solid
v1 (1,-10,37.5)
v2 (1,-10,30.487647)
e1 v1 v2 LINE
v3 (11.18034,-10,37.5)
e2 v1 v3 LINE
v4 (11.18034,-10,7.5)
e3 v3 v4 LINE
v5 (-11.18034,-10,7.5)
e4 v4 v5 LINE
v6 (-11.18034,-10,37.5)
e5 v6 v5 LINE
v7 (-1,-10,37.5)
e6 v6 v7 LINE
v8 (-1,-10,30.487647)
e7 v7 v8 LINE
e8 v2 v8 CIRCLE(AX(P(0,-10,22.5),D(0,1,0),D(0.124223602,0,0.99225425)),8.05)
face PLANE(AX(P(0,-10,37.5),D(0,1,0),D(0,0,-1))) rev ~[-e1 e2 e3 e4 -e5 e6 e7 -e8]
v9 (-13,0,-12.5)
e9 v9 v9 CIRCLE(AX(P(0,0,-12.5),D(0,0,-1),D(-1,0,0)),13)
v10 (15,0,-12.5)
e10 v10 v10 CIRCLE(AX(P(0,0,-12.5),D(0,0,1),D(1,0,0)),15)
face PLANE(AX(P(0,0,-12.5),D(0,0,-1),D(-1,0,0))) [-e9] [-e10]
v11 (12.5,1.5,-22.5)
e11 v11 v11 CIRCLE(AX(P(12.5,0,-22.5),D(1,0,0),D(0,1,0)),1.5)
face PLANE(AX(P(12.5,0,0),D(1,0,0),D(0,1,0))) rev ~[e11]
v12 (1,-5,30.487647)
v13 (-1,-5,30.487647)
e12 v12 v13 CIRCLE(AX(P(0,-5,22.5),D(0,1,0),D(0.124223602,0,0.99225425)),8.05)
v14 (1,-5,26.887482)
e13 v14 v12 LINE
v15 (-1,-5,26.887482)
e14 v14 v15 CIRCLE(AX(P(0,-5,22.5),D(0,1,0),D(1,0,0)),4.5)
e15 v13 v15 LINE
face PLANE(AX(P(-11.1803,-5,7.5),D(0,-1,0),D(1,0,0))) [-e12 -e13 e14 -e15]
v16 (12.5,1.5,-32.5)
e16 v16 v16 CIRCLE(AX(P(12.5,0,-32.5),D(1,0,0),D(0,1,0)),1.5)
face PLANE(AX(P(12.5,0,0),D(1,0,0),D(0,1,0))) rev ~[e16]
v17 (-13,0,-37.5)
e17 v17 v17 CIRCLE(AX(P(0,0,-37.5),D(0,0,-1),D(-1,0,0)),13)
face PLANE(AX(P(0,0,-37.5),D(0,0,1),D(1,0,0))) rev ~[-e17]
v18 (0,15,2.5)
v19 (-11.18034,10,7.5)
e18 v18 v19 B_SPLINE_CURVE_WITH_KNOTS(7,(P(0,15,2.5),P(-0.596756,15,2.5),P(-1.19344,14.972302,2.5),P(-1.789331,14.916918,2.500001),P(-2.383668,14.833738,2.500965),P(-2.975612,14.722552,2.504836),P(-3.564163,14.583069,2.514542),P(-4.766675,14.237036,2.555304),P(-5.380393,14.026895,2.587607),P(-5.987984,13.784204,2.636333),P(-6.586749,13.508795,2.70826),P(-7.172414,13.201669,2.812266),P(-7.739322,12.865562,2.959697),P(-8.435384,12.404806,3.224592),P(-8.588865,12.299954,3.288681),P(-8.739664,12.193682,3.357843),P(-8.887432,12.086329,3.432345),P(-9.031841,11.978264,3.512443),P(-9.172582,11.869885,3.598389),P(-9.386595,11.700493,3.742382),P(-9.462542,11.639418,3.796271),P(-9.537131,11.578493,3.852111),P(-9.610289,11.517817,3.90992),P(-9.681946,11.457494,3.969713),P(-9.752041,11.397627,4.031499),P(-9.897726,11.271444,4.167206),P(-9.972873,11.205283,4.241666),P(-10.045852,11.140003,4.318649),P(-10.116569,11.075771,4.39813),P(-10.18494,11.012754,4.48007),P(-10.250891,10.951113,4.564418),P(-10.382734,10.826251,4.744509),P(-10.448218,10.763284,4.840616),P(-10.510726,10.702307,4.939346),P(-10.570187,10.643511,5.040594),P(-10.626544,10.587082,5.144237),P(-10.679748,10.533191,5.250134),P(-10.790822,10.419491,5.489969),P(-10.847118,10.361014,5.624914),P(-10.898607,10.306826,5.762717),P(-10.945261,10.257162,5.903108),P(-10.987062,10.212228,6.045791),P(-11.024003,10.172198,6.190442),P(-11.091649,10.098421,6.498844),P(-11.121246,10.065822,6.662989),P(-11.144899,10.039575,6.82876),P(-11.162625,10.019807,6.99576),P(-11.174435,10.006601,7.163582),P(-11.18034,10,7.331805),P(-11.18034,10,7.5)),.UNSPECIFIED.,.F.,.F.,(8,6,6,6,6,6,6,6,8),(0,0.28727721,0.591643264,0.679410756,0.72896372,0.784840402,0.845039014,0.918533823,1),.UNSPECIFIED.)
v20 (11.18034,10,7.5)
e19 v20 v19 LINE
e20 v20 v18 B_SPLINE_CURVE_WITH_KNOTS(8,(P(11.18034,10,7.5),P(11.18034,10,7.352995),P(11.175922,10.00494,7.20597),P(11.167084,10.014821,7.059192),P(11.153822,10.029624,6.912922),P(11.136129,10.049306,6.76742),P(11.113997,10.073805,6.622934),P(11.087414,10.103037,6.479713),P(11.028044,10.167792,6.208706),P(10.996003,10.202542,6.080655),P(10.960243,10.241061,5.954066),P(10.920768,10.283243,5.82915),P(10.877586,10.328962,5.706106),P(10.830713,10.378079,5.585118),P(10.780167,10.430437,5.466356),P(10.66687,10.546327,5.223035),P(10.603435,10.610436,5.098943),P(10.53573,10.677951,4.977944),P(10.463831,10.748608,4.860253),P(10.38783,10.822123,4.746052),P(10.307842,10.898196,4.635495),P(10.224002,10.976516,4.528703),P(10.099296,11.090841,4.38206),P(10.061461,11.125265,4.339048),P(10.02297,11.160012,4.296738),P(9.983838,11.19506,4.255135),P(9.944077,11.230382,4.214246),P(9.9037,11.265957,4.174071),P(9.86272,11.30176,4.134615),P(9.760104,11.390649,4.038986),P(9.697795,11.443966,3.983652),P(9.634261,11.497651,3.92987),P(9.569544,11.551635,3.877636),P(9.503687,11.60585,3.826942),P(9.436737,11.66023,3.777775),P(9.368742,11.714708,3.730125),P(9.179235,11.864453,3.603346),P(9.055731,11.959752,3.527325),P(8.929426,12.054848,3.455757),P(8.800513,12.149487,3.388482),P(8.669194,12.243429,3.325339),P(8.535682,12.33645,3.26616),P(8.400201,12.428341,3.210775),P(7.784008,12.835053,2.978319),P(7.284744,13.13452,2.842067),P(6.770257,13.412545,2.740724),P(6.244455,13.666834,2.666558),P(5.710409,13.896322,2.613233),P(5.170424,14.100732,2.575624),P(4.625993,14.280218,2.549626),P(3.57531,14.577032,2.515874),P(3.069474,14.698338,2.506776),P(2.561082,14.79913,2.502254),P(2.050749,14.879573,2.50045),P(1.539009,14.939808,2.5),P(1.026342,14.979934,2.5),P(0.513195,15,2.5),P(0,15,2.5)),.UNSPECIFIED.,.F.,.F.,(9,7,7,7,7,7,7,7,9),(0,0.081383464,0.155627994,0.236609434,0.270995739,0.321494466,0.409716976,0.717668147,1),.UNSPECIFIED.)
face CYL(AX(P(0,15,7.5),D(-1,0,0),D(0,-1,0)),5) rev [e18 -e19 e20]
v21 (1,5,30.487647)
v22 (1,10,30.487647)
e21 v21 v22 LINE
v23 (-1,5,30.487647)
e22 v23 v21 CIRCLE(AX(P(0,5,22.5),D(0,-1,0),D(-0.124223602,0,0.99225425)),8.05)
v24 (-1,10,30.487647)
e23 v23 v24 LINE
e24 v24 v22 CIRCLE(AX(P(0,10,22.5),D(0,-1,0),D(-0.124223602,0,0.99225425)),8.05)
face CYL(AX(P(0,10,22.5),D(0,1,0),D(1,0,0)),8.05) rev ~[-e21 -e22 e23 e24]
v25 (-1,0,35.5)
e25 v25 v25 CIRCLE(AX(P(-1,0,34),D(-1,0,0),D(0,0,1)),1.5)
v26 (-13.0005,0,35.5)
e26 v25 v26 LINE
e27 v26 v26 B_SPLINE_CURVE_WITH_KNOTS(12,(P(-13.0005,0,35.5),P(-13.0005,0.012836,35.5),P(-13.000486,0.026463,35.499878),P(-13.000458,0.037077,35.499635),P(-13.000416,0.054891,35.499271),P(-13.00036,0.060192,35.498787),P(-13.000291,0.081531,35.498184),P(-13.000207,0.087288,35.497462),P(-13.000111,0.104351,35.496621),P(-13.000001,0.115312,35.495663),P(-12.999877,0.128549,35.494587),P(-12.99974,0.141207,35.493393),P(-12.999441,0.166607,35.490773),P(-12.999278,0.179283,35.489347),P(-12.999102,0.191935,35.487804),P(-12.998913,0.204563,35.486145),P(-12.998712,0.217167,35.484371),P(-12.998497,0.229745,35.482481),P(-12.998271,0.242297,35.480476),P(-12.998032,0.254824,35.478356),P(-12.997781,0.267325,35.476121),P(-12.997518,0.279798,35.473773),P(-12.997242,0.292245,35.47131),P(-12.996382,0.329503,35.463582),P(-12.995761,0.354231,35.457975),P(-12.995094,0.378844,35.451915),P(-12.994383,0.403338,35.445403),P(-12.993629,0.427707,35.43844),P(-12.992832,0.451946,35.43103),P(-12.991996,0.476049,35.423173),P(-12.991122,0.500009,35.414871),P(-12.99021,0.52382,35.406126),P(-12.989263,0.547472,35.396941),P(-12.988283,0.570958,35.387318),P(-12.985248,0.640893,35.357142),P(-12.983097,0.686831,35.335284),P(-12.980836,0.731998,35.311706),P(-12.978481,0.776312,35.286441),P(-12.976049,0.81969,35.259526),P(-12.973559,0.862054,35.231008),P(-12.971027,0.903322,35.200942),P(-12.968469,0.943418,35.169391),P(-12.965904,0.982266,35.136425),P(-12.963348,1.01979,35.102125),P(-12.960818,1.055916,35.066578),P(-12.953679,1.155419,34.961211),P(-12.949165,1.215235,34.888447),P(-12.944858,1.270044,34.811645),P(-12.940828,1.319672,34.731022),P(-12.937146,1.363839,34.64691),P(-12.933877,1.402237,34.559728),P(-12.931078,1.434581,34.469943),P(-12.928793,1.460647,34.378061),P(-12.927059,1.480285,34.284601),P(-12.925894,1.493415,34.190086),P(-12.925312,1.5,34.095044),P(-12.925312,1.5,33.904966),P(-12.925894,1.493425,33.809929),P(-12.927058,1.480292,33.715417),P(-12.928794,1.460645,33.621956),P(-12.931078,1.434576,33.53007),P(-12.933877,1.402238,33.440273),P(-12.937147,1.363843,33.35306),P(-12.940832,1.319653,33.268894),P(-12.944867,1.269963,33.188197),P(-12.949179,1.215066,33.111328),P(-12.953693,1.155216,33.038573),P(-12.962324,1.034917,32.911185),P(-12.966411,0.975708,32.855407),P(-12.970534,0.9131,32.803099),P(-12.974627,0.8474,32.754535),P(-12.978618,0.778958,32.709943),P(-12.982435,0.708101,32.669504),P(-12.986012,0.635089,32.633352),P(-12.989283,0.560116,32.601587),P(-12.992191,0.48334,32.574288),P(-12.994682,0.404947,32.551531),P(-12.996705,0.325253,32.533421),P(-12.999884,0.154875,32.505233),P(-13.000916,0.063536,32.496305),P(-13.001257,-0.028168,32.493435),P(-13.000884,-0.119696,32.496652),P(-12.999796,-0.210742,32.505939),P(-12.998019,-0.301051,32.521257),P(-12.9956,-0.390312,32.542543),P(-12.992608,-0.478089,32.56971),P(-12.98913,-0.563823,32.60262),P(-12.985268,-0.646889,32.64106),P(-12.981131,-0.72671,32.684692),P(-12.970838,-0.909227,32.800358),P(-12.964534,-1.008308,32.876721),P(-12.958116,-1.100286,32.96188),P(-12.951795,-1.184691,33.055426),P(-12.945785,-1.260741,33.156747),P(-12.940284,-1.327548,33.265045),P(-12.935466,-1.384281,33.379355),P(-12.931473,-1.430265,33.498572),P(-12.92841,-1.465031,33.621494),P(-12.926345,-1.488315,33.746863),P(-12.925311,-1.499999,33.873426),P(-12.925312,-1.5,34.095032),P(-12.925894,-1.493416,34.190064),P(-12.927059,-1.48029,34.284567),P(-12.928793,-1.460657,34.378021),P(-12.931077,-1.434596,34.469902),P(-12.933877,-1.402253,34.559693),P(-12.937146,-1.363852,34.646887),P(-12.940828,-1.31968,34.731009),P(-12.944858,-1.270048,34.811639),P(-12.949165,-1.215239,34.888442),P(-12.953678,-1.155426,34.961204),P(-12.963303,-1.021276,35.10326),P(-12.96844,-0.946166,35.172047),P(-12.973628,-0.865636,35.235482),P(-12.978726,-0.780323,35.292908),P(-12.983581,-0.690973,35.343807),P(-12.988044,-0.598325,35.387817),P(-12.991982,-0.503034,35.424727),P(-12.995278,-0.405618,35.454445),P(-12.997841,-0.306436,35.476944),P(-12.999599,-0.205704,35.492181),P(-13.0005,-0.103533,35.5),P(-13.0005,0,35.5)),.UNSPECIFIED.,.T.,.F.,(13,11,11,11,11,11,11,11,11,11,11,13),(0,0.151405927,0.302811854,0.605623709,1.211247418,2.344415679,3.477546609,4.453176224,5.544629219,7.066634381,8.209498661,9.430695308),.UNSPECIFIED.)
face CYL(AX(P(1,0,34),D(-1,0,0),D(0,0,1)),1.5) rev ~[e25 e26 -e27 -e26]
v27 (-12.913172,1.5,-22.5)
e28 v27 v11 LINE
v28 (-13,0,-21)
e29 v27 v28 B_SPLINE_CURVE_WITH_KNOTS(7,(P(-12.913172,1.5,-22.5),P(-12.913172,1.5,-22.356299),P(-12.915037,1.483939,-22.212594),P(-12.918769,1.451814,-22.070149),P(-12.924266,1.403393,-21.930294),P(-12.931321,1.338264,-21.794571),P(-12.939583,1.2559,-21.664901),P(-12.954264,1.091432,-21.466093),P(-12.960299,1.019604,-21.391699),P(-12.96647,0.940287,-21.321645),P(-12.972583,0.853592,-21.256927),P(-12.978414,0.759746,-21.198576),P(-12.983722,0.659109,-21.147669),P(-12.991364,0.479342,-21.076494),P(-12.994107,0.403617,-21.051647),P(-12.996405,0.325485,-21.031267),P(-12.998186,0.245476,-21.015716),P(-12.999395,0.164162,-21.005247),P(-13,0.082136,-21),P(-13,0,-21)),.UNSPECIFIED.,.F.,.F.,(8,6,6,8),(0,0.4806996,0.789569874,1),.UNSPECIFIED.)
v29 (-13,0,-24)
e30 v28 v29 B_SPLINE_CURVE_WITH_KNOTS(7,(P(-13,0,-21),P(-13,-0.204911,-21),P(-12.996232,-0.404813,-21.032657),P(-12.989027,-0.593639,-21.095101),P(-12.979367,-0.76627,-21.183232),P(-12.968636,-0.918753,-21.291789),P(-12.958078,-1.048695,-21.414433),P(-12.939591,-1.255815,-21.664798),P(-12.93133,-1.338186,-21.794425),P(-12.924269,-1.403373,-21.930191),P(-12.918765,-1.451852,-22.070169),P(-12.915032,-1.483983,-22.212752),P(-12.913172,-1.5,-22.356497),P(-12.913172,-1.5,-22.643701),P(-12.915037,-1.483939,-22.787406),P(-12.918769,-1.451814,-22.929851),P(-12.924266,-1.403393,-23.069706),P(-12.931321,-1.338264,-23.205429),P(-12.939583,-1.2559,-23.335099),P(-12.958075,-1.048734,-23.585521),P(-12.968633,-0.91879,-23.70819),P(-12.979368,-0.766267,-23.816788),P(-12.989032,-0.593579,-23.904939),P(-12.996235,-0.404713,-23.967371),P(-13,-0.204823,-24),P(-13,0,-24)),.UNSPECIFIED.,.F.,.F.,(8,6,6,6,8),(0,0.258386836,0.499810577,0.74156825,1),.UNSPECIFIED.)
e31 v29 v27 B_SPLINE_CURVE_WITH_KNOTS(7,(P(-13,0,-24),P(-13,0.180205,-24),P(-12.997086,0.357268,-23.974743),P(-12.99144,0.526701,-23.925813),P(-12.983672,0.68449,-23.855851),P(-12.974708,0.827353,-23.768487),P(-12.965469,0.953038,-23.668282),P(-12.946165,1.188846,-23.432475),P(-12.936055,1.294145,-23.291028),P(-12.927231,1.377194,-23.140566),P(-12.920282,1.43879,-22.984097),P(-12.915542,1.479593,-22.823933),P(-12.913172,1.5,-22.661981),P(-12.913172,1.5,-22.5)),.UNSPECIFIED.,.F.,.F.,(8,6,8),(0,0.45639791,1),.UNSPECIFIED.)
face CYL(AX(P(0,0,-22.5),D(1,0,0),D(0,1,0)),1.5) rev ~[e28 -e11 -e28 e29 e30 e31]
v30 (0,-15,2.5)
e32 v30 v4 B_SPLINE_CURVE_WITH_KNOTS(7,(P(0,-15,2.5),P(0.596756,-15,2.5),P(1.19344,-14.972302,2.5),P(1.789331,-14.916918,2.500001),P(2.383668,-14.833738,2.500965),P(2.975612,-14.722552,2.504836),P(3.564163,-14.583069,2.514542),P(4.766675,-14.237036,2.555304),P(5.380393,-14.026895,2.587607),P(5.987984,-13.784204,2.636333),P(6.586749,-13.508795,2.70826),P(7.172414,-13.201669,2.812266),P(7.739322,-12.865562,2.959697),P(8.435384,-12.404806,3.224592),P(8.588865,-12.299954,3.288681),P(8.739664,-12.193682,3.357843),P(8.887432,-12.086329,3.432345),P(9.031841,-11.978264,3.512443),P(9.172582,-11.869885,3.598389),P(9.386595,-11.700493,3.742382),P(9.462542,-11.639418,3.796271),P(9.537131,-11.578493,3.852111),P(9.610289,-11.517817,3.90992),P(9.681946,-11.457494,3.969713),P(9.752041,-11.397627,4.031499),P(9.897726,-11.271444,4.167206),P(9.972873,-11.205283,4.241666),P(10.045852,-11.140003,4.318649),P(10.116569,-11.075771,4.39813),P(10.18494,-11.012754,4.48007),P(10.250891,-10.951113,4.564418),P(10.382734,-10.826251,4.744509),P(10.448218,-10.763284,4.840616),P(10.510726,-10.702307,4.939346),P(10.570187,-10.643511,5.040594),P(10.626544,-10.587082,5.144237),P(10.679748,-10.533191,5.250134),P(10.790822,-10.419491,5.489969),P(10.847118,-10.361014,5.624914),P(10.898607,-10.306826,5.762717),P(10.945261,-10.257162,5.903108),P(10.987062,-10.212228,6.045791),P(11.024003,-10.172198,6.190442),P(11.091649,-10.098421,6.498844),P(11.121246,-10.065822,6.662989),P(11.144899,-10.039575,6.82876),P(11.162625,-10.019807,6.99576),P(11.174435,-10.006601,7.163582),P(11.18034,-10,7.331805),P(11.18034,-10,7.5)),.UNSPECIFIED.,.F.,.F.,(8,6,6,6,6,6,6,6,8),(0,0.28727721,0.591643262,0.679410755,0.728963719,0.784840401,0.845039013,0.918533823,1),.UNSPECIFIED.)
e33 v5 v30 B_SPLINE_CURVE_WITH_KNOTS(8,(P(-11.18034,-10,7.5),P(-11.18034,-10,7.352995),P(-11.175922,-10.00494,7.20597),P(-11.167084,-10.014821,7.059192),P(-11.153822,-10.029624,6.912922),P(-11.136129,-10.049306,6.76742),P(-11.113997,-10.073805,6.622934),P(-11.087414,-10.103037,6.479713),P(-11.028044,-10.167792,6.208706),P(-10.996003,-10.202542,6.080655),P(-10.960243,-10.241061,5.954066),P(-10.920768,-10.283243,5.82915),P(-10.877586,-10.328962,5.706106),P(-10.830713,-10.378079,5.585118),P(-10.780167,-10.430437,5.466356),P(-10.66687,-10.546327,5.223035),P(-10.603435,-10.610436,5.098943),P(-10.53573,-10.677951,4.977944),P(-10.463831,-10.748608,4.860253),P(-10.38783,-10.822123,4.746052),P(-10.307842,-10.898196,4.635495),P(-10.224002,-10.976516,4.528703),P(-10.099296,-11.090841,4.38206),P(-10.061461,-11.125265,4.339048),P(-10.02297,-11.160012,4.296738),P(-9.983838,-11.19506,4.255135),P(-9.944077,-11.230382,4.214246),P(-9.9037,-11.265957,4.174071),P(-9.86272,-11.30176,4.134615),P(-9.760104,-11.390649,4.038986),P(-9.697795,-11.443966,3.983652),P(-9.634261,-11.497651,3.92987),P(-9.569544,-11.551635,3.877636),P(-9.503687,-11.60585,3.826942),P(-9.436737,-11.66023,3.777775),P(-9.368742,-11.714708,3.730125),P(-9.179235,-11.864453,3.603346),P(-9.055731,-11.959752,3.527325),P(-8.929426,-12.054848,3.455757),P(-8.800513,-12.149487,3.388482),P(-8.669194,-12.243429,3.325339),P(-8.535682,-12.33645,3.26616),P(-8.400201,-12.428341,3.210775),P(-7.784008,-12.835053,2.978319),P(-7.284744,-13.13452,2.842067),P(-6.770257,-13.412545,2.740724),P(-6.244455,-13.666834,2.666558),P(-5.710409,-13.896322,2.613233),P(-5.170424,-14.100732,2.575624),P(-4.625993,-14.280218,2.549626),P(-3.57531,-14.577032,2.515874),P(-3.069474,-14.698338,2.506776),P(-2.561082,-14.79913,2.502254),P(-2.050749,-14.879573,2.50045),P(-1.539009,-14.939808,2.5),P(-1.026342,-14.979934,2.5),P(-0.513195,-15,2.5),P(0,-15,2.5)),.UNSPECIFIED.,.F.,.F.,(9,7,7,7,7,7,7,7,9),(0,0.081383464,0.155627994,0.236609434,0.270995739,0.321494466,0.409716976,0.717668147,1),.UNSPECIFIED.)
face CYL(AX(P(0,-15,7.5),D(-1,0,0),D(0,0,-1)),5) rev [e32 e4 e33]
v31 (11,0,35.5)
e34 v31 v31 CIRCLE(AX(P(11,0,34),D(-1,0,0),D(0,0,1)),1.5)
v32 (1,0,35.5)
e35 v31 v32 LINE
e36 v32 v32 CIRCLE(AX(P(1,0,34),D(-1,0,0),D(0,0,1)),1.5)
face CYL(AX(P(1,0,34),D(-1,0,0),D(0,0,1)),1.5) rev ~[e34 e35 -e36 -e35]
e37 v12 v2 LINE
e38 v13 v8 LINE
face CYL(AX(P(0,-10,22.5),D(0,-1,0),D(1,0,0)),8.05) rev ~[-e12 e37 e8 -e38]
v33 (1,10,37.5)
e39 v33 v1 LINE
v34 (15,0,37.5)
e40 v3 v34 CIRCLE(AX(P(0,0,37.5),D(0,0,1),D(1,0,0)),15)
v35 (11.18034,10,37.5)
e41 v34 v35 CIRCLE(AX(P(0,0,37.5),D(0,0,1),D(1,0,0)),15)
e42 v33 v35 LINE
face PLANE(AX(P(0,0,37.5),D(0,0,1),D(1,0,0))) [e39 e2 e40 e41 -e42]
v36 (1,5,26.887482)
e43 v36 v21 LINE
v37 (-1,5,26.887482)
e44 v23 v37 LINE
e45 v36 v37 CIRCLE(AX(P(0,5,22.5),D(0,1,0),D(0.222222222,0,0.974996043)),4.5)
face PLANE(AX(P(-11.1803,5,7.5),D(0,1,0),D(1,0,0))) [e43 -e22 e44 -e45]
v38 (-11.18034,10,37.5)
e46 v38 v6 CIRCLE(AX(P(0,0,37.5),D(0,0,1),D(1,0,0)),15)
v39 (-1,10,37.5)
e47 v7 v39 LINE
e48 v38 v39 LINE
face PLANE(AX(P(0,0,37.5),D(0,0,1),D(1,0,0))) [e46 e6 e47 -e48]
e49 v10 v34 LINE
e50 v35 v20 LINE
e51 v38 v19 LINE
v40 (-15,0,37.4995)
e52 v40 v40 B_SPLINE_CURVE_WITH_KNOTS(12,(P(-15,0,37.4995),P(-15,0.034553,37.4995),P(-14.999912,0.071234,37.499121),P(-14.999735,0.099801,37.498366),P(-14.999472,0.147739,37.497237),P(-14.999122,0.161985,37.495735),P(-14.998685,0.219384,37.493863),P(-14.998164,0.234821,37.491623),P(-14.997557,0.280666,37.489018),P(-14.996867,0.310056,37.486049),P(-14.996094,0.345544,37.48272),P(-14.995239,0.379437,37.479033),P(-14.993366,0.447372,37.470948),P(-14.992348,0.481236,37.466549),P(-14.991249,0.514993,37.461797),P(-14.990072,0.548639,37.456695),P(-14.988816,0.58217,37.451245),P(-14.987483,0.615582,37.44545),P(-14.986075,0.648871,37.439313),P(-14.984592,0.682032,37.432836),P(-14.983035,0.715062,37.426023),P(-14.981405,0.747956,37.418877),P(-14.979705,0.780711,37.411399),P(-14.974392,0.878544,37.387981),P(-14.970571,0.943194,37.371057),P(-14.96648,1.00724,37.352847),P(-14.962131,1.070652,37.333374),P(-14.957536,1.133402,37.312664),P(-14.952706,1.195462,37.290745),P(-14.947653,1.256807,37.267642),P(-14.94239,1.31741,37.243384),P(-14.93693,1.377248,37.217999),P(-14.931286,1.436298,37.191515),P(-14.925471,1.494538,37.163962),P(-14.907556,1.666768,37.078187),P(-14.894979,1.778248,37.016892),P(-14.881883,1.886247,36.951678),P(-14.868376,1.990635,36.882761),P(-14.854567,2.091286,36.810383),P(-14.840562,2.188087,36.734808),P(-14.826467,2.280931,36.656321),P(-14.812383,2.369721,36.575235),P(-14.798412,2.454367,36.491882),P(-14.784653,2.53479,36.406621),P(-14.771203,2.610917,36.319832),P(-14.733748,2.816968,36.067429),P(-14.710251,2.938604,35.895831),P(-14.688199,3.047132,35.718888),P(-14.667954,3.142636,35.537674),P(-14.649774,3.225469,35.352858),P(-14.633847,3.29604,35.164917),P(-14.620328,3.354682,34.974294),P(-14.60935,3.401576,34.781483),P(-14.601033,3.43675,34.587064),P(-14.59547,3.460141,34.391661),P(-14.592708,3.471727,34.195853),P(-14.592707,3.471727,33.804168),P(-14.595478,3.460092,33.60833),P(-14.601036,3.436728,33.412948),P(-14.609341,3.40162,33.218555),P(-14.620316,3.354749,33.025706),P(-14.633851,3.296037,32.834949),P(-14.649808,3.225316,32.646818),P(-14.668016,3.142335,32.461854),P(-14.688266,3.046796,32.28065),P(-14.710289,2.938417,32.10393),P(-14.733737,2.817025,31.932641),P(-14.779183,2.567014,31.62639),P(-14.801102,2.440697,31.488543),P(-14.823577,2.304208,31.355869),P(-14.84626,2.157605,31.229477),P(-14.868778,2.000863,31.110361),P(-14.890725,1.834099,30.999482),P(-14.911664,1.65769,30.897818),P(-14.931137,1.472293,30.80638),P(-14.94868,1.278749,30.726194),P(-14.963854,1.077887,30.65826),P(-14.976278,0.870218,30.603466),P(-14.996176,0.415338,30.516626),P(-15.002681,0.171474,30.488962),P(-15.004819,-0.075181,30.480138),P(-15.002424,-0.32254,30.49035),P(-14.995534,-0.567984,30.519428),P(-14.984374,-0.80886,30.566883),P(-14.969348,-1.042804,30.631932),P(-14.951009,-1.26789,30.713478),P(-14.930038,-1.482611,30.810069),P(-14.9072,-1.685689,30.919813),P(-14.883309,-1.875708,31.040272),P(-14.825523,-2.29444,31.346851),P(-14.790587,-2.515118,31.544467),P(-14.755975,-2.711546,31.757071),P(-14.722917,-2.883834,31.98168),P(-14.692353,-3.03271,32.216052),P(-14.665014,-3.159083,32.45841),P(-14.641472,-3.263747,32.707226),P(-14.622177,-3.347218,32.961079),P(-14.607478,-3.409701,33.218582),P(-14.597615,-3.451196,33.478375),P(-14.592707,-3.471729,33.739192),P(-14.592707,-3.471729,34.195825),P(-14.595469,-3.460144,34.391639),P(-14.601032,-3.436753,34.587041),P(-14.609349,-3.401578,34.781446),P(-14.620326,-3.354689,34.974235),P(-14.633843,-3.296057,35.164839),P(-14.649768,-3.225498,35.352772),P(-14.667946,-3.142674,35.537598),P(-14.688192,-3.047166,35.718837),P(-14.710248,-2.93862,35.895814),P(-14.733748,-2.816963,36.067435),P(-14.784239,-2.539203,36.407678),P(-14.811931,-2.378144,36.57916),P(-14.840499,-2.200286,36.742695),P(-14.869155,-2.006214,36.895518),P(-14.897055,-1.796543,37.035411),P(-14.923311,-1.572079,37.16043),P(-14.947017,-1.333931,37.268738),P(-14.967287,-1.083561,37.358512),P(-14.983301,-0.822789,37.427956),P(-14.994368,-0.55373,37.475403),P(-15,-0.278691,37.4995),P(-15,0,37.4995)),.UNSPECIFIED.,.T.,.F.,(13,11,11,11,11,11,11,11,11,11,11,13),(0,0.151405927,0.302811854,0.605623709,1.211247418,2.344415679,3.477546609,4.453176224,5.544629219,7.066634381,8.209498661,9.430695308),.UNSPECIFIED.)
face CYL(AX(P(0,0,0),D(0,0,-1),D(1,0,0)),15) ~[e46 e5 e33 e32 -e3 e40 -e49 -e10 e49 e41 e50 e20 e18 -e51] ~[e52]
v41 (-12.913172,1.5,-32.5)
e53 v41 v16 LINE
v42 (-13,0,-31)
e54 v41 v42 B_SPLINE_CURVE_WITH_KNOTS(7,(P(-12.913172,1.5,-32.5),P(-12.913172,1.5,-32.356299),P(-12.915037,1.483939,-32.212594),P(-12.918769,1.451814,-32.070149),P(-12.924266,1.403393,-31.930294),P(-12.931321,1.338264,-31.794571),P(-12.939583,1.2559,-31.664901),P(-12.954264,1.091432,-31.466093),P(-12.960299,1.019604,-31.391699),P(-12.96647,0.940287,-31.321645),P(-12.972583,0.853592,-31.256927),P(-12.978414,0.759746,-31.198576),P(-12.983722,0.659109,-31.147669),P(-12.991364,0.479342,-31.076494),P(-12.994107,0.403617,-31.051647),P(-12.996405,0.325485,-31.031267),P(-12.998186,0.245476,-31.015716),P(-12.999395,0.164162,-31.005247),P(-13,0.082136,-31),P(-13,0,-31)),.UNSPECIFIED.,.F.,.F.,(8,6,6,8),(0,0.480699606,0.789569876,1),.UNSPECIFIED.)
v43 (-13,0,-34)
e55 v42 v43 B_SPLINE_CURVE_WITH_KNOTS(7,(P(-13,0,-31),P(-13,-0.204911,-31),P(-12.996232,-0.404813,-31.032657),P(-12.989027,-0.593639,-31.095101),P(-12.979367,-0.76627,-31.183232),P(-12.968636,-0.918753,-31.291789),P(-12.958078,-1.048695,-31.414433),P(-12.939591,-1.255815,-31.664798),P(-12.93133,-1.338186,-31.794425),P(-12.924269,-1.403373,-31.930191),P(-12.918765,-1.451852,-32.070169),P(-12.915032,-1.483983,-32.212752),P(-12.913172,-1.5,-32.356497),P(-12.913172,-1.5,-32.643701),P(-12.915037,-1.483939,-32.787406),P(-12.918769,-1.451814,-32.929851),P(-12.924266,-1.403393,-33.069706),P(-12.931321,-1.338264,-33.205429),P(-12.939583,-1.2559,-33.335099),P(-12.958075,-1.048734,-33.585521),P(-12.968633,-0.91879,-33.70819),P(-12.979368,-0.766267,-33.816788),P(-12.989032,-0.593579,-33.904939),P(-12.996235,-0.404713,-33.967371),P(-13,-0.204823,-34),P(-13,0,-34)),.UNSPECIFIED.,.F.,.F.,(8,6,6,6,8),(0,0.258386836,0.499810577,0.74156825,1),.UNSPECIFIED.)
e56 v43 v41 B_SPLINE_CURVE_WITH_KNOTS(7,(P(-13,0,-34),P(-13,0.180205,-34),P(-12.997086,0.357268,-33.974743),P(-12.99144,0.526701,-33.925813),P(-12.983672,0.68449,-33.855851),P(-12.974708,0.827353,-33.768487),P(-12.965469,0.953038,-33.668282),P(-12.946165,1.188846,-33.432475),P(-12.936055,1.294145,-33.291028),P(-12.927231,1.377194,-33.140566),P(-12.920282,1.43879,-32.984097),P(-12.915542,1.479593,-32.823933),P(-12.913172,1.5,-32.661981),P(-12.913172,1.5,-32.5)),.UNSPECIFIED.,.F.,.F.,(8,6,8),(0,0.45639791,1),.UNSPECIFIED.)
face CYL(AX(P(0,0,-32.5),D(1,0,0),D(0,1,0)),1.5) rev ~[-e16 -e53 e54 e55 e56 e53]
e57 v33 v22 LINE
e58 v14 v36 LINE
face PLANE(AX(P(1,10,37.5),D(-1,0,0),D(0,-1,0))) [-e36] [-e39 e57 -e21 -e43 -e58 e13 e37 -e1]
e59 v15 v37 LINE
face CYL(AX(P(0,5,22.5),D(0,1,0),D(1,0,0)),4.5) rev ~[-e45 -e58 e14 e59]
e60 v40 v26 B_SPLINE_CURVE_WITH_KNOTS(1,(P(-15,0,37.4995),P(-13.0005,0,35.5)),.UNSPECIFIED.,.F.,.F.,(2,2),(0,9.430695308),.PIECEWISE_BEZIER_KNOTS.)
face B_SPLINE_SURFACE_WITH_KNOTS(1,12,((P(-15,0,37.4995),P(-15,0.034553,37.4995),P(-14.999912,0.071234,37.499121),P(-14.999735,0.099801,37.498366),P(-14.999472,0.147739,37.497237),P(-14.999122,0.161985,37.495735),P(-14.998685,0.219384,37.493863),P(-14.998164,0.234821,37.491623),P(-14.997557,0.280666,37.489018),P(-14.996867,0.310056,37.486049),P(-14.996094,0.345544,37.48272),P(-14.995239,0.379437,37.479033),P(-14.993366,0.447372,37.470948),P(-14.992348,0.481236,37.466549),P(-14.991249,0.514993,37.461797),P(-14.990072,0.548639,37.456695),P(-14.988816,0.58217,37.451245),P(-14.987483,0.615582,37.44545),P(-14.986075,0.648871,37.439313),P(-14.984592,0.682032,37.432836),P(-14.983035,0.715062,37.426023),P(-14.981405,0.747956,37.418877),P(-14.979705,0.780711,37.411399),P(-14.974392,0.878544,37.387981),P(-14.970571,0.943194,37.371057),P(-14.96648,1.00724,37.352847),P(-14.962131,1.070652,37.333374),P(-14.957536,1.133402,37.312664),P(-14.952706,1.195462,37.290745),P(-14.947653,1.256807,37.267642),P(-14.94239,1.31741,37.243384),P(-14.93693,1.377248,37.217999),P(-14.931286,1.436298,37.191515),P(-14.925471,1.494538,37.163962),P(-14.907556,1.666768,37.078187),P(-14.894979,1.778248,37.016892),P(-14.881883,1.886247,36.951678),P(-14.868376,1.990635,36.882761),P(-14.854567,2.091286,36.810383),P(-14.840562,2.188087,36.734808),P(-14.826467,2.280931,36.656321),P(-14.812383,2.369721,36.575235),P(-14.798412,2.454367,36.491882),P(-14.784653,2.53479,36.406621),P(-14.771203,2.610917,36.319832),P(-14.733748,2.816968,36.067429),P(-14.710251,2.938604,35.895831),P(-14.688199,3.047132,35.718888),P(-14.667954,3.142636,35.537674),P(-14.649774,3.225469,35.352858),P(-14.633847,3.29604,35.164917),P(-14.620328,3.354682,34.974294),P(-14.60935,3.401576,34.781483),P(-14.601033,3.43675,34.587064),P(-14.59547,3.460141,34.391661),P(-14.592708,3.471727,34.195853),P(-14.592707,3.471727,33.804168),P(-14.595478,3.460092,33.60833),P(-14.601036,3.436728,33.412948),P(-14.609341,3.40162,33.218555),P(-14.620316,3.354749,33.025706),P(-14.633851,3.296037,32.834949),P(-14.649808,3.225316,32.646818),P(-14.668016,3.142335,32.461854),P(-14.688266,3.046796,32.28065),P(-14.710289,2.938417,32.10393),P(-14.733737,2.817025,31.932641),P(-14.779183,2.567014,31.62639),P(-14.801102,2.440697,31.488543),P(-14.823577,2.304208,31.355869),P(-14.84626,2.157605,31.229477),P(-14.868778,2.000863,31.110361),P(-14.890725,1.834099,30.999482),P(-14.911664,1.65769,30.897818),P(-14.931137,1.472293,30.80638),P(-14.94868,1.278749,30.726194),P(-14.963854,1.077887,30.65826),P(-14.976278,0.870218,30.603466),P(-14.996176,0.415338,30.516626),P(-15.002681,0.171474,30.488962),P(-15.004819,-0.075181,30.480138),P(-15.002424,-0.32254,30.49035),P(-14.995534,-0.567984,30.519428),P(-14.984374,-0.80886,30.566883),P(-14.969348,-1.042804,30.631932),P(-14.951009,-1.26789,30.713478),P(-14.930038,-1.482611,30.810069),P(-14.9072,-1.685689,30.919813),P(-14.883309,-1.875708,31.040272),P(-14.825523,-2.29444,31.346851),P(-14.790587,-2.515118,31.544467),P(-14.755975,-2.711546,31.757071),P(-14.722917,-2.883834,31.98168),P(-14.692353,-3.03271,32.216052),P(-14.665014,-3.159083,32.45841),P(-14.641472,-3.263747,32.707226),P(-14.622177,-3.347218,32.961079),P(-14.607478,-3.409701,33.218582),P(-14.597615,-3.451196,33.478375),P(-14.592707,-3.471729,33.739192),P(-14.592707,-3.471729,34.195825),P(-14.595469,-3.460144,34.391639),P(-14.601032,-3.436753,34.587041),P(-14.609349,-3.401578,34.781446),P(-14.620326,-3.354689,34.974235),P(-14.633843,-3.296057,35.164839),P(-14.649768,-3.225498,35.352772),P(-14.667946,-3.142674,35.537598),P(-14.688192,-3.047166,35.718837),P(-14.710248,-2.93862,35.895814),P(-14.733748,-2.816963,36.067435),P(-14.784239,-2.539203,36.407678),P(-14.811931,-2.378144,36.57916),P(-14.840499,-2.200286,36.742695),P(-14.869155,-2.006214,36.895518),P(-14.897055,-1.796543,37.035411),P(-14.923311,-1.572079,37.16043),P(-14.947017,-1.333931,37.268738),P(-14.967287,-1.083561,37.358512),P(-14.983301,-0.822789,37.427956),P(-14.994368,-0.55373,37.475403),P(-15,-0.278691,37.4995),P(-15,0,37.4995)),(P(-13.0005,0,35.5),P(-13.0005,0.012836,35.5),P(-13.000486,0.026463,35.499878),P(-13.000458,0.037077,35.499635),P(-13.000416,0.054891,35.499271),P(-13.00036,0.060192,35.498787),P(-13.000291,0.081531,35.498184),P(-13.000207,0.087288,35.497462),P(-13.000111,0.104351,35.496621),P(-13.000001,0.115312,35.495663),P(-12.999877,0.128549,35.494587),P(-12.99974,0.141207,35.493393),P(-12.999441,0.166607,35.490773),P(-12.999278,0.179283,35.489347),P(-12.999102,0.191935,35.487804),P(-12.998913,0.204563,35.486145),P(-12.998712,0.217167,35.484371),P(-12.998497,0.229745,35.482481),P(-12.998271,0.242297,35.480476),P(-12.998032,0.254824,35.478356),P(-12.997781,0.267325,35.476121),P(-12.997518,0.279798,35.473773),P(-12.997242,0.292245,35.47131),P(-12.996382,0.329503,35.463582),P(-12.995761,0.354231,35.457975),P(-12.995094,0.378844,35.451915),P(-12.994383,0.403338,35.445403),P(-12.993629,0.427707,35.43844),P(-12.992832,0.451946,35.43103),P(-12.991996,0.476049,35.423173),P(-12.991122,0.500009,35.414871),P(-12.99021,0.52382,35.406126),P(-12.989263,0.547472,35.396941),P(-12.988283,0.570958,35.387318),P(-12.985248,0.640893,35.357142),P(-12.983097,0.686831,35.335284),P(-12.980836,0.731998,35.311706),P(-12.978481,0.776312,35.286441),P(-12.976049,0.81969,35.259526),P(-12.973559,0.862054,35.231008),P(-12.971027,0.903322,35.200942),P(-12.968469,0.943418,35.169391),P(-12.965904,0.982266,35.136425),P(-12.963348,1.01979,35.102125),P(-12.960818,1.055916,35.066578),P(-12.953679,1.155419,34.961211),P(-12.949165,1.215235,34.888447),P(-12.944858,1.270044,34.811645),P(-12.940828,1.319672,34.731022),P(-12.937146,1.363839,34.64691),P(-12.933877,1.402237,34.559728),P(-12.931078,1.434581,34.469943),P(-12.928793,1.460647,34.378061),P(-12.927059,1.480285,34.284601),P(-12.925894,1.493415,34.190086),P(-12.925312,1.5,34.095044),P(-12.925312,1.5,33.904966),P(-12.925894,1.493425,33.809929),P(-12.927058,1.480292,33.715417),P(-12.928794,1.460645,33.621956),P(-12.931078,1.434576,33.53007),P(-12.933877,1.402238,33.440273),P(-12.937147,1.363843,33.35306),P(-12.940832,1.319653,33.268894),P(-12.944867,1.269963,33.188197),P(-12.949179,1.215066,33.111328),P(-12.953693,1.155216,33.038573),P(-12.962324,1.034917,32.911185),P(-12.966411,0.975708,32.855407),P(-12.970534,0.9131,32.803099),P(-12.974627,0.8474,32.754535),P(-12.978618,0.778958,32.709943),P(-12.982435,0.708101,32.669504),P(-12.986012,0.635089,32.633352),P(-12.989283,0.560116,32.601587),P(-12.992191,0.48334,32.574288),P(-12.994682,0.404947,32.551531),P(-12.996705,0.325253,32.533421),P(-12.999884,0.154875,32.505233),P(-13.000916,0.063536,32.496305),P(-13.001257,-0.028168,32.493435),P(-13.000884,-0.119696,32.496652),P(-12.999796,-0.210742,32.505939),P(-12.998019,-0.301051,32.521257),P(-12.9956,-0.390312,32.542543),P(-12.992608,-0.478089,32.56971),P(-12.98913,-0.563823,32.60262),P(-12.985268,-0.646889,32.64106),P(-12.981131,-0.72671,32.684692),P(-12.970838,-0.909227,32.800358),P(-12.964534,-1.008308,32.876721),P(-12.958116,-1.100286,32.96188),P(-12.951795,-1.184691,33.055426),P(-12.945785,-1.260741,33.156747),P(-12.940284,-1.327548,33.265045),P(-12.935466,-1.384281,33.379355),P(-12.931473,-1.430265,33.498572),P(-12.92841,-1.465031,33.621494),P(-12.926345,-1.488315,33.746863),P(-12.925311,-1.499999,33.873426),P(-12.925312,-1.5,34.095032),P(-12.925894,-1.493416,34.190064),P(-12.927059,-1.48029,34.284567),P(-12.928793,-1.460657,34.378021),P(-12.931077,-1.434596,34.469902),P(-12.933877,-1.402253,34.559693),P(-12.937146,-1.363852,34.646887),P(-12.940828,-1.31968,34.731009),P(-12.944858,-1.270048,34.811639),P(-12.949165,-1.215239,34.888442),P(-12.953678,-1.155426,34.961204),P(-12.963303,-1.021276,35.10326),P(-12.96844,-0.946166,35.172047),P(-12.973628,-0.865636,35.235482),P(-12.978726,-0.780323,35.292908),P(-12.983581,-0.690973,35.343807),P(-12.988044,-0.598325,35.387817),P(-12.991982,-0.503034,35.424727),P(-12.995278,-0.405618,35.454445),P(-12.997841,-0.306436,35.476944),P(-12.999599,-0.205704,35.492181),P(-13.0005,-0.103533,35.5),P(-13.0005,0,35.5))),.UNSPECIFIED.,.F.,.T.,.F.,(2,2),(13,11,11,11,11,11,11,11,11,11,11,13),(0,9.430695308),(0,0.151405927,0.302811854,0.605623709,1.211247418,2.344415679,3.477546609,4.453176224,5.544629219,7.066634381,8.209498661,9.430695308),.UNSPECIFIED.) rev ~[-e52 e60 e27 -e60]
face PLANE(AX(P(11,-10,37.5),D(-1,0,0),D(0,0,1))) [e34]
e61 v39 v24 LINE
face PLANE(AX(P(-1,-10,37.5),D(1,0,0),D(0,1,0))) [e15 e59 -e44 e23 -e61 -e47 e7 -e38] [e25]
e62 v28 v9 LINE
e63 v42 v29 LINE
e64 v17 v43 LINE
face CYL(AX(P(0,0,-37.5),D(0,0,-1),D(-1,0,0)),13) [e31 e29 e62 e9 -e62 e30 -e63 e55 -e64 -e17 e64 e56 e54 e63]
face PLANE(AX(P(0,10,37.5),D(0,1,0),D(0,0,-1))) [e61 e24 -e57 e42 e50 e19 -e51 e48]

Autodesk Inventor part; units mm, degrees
ref_plane "YZ Plane" through (0, 0, 0) normal (1, 0, 0) x (0, 1, 0)
ref_plane "XZ Plane" through (0, 0, 0) normal (0, 1, 0) x (-1, 0, 0)
ref_plane "XY Plane" through (0, 0, 0) normal (0, 0, 1) x (1, 0, 0)
sketch "Szkic1" plane through (0, 0, 0) normal (0, 0, 1) x (1, 0, 0)
  circle A0 centre (0, 0) radius 15
  dimension "d0" = 30
extrude "Wyciągnięcie proste1" add sketch "Szkic1" along normal mid plane 75
sketch "Szkic2" plane through (0, 0, -37.5) normal (0, 0, -1) x (-1, 0, 0)
  circle A0 centre (0, 0) radius 13
  circle A1 centre (0, 0) radius 15
  dimension "d3" = 26
  dimension "d4" = 30
extrude "Wyciągnięcie proste2" cut sketch "Szkic2" against normal blind 25
sketch "Szkic3" plane through (0, 0, 0) normal (1, 0, 0) x (0, 1, 0)
  circle A0 centre (0, -32.5) radius 1.5
  circle A1 centre (0, -22.5) radius 1.5
  line L0 (-13, -37.5) -> (13, -37.5) projected
  point P0 (0, 0)
  dimension "d7" = 3
  dimension "d8" = 3
  dimension "d13" = 10
  dimension "d14" = 5
extrude "Wyciągnięcie proste3" cut sketch "Szkic3" against normal blind 25 and the other way blind 12.5
thread "Gwint1" size "M3x0.5" class "6H" standard "ANSI Metric M Profile" full length
thread "Gwint2" size "M3x0.5" class "6H" standard "ANSI Metric M Profile" full length
sketch "Szkic4" plane through (0, 0, 0) normal (1, 0, 0) x (0, 1, 0)
  line L0 (15, 37.5) -> (-15, 37.5) projected
  line L1 (-15, 37.5) -> (-10, 37.5)
  line L2 (-10, 37.5) -> (-10, 7.5)
  line L3 (-15, 2.5) -> (-15, 2.5)
  line L4 (-15, 2.5) -> (-15, 37.5)
  line L5 (15, 37.5) -> (10, 37.5)
  line L6 (10, 37.5) -> (10, 7.5)
  line L7 (15, 2.5) -> (15, 2.5)
  line L8 (15, 2.5) -> (15, 37.5)
  arc A0 (-15, 2.5) -> (-10, 7.5) centre (-15, 7.5) ccw
  arc A1 (10, 7.5) -> (15, 2.5) centre (15, 7.5) ccw
  point P0 (0, 0)
  point P1 (-10, 2.5)
  point P2 (10, 2.5)
  dimension "d19" = 5
  dimension "d20" = 35
  dimension "d21" = 5
  dimension "d22" = 35
  dimension "d25" = 5
  dimension "d26" = 5
extrude "Wyciągnięcie proste4" cut sketch "Szkic4" along normal mid plane 30
sketch "Szkic6" plane through (-11.1803, 10, 7.5) normal (0, 1, 0) x (1, 0, 0)
  line L0 (-3.8197, -30) -> (0, -30) construction
  line L1 (0, 0) -> (22.3607, 0) construction
  line L2 (0, -30) -> (22.3607, -30) construction
  line L3 (22.3607, -30) -> (22.3607, 0) construction
  line L4 (22.3607, 0) -> (0, 0) construction
  line L5 (0, 0) -> (0, -30) construction
  circle A0 centre (11.1803, -15) radius 8.05
  point P0 (11.1803, 7.5)
  dimension "d30" = 16.1
extrude "Wyciągnięcie proste6" cut sketch "Szkic6" against normal blind 5
sketch "Szkic7" plane through (0, 5, 22.5) normal (0, 1, 0) x (1, 0, 0)
  circle A0 centre (0, 0) radius 4.5
  point P0 (0, 22.5)
  dimension "d33" = 9
extrude "Wyciągnięcie proste7" cut sketch "Szkic7" against normal blind 30
sketch "Szkic8" plane through (0, 0, 37.5) normal (0, 0, 1) x (1, 0, 0)
  line L0 (-1, 10) -> (1, 10)
  line L1 (1, 10) -> (1, -10)
  line L2 (1, -10) -> (-1, -10)
  line L3 (-1, -10) -> (-1, 10)
  line L4 (-1, 10) -> (1, -10) construction
  line L5 (1, 10) -> (-1, -10) construction
  point P0 (0, 0)
  dimension "d36" = 2
  dimension "d37" = 20
extrude "Wyciągnięcie proste8" cut sketch "Szkic8" against normal blind 12
sketch "Szkic9" plane through (1, -10, 37.5) normal (-1, 0, 0) x (0, 0, 1)
  circle A0 centre (-3.5, 10) radius 1.5
  point P0 (-37.5, 10)
  dimension "d40" = 3
extrude "Wyciągnięcie proste9" cut sketch "Szkic9" against normal blind 10 and the other way blind 20
thread "Gwint3" size "M3x0.5" class "6H" standard "ANSI Metric M Profile" full length
sketch "Szkic10" plane through (-11.1803, -10, 7.5) normal (0, -1, 0) x (1, 0, 0)
  arc A0 (10.1803, 19.3875) -> (12.1803, 19.3875) centre (11.1803, 15) ccw projected
  circle A1 centre (11.1803, 15) radius 8.05
  point P0 (11.1803, -7.5)
  dimension "d49" = 16.1
extrude "Wyciągnięcie proste10" cut sketch "Szkic10" against normal blind 5
chamfer "Faza1" distance 2 angle 45 1 edges at (-15, -0.0202, 32.5001)
equation "\"d21\" = d19"
equation "\"d22\" = d20"
equation "\"d26\" = d25"
properties part number "koncowka" material "Aluminium 6061"
